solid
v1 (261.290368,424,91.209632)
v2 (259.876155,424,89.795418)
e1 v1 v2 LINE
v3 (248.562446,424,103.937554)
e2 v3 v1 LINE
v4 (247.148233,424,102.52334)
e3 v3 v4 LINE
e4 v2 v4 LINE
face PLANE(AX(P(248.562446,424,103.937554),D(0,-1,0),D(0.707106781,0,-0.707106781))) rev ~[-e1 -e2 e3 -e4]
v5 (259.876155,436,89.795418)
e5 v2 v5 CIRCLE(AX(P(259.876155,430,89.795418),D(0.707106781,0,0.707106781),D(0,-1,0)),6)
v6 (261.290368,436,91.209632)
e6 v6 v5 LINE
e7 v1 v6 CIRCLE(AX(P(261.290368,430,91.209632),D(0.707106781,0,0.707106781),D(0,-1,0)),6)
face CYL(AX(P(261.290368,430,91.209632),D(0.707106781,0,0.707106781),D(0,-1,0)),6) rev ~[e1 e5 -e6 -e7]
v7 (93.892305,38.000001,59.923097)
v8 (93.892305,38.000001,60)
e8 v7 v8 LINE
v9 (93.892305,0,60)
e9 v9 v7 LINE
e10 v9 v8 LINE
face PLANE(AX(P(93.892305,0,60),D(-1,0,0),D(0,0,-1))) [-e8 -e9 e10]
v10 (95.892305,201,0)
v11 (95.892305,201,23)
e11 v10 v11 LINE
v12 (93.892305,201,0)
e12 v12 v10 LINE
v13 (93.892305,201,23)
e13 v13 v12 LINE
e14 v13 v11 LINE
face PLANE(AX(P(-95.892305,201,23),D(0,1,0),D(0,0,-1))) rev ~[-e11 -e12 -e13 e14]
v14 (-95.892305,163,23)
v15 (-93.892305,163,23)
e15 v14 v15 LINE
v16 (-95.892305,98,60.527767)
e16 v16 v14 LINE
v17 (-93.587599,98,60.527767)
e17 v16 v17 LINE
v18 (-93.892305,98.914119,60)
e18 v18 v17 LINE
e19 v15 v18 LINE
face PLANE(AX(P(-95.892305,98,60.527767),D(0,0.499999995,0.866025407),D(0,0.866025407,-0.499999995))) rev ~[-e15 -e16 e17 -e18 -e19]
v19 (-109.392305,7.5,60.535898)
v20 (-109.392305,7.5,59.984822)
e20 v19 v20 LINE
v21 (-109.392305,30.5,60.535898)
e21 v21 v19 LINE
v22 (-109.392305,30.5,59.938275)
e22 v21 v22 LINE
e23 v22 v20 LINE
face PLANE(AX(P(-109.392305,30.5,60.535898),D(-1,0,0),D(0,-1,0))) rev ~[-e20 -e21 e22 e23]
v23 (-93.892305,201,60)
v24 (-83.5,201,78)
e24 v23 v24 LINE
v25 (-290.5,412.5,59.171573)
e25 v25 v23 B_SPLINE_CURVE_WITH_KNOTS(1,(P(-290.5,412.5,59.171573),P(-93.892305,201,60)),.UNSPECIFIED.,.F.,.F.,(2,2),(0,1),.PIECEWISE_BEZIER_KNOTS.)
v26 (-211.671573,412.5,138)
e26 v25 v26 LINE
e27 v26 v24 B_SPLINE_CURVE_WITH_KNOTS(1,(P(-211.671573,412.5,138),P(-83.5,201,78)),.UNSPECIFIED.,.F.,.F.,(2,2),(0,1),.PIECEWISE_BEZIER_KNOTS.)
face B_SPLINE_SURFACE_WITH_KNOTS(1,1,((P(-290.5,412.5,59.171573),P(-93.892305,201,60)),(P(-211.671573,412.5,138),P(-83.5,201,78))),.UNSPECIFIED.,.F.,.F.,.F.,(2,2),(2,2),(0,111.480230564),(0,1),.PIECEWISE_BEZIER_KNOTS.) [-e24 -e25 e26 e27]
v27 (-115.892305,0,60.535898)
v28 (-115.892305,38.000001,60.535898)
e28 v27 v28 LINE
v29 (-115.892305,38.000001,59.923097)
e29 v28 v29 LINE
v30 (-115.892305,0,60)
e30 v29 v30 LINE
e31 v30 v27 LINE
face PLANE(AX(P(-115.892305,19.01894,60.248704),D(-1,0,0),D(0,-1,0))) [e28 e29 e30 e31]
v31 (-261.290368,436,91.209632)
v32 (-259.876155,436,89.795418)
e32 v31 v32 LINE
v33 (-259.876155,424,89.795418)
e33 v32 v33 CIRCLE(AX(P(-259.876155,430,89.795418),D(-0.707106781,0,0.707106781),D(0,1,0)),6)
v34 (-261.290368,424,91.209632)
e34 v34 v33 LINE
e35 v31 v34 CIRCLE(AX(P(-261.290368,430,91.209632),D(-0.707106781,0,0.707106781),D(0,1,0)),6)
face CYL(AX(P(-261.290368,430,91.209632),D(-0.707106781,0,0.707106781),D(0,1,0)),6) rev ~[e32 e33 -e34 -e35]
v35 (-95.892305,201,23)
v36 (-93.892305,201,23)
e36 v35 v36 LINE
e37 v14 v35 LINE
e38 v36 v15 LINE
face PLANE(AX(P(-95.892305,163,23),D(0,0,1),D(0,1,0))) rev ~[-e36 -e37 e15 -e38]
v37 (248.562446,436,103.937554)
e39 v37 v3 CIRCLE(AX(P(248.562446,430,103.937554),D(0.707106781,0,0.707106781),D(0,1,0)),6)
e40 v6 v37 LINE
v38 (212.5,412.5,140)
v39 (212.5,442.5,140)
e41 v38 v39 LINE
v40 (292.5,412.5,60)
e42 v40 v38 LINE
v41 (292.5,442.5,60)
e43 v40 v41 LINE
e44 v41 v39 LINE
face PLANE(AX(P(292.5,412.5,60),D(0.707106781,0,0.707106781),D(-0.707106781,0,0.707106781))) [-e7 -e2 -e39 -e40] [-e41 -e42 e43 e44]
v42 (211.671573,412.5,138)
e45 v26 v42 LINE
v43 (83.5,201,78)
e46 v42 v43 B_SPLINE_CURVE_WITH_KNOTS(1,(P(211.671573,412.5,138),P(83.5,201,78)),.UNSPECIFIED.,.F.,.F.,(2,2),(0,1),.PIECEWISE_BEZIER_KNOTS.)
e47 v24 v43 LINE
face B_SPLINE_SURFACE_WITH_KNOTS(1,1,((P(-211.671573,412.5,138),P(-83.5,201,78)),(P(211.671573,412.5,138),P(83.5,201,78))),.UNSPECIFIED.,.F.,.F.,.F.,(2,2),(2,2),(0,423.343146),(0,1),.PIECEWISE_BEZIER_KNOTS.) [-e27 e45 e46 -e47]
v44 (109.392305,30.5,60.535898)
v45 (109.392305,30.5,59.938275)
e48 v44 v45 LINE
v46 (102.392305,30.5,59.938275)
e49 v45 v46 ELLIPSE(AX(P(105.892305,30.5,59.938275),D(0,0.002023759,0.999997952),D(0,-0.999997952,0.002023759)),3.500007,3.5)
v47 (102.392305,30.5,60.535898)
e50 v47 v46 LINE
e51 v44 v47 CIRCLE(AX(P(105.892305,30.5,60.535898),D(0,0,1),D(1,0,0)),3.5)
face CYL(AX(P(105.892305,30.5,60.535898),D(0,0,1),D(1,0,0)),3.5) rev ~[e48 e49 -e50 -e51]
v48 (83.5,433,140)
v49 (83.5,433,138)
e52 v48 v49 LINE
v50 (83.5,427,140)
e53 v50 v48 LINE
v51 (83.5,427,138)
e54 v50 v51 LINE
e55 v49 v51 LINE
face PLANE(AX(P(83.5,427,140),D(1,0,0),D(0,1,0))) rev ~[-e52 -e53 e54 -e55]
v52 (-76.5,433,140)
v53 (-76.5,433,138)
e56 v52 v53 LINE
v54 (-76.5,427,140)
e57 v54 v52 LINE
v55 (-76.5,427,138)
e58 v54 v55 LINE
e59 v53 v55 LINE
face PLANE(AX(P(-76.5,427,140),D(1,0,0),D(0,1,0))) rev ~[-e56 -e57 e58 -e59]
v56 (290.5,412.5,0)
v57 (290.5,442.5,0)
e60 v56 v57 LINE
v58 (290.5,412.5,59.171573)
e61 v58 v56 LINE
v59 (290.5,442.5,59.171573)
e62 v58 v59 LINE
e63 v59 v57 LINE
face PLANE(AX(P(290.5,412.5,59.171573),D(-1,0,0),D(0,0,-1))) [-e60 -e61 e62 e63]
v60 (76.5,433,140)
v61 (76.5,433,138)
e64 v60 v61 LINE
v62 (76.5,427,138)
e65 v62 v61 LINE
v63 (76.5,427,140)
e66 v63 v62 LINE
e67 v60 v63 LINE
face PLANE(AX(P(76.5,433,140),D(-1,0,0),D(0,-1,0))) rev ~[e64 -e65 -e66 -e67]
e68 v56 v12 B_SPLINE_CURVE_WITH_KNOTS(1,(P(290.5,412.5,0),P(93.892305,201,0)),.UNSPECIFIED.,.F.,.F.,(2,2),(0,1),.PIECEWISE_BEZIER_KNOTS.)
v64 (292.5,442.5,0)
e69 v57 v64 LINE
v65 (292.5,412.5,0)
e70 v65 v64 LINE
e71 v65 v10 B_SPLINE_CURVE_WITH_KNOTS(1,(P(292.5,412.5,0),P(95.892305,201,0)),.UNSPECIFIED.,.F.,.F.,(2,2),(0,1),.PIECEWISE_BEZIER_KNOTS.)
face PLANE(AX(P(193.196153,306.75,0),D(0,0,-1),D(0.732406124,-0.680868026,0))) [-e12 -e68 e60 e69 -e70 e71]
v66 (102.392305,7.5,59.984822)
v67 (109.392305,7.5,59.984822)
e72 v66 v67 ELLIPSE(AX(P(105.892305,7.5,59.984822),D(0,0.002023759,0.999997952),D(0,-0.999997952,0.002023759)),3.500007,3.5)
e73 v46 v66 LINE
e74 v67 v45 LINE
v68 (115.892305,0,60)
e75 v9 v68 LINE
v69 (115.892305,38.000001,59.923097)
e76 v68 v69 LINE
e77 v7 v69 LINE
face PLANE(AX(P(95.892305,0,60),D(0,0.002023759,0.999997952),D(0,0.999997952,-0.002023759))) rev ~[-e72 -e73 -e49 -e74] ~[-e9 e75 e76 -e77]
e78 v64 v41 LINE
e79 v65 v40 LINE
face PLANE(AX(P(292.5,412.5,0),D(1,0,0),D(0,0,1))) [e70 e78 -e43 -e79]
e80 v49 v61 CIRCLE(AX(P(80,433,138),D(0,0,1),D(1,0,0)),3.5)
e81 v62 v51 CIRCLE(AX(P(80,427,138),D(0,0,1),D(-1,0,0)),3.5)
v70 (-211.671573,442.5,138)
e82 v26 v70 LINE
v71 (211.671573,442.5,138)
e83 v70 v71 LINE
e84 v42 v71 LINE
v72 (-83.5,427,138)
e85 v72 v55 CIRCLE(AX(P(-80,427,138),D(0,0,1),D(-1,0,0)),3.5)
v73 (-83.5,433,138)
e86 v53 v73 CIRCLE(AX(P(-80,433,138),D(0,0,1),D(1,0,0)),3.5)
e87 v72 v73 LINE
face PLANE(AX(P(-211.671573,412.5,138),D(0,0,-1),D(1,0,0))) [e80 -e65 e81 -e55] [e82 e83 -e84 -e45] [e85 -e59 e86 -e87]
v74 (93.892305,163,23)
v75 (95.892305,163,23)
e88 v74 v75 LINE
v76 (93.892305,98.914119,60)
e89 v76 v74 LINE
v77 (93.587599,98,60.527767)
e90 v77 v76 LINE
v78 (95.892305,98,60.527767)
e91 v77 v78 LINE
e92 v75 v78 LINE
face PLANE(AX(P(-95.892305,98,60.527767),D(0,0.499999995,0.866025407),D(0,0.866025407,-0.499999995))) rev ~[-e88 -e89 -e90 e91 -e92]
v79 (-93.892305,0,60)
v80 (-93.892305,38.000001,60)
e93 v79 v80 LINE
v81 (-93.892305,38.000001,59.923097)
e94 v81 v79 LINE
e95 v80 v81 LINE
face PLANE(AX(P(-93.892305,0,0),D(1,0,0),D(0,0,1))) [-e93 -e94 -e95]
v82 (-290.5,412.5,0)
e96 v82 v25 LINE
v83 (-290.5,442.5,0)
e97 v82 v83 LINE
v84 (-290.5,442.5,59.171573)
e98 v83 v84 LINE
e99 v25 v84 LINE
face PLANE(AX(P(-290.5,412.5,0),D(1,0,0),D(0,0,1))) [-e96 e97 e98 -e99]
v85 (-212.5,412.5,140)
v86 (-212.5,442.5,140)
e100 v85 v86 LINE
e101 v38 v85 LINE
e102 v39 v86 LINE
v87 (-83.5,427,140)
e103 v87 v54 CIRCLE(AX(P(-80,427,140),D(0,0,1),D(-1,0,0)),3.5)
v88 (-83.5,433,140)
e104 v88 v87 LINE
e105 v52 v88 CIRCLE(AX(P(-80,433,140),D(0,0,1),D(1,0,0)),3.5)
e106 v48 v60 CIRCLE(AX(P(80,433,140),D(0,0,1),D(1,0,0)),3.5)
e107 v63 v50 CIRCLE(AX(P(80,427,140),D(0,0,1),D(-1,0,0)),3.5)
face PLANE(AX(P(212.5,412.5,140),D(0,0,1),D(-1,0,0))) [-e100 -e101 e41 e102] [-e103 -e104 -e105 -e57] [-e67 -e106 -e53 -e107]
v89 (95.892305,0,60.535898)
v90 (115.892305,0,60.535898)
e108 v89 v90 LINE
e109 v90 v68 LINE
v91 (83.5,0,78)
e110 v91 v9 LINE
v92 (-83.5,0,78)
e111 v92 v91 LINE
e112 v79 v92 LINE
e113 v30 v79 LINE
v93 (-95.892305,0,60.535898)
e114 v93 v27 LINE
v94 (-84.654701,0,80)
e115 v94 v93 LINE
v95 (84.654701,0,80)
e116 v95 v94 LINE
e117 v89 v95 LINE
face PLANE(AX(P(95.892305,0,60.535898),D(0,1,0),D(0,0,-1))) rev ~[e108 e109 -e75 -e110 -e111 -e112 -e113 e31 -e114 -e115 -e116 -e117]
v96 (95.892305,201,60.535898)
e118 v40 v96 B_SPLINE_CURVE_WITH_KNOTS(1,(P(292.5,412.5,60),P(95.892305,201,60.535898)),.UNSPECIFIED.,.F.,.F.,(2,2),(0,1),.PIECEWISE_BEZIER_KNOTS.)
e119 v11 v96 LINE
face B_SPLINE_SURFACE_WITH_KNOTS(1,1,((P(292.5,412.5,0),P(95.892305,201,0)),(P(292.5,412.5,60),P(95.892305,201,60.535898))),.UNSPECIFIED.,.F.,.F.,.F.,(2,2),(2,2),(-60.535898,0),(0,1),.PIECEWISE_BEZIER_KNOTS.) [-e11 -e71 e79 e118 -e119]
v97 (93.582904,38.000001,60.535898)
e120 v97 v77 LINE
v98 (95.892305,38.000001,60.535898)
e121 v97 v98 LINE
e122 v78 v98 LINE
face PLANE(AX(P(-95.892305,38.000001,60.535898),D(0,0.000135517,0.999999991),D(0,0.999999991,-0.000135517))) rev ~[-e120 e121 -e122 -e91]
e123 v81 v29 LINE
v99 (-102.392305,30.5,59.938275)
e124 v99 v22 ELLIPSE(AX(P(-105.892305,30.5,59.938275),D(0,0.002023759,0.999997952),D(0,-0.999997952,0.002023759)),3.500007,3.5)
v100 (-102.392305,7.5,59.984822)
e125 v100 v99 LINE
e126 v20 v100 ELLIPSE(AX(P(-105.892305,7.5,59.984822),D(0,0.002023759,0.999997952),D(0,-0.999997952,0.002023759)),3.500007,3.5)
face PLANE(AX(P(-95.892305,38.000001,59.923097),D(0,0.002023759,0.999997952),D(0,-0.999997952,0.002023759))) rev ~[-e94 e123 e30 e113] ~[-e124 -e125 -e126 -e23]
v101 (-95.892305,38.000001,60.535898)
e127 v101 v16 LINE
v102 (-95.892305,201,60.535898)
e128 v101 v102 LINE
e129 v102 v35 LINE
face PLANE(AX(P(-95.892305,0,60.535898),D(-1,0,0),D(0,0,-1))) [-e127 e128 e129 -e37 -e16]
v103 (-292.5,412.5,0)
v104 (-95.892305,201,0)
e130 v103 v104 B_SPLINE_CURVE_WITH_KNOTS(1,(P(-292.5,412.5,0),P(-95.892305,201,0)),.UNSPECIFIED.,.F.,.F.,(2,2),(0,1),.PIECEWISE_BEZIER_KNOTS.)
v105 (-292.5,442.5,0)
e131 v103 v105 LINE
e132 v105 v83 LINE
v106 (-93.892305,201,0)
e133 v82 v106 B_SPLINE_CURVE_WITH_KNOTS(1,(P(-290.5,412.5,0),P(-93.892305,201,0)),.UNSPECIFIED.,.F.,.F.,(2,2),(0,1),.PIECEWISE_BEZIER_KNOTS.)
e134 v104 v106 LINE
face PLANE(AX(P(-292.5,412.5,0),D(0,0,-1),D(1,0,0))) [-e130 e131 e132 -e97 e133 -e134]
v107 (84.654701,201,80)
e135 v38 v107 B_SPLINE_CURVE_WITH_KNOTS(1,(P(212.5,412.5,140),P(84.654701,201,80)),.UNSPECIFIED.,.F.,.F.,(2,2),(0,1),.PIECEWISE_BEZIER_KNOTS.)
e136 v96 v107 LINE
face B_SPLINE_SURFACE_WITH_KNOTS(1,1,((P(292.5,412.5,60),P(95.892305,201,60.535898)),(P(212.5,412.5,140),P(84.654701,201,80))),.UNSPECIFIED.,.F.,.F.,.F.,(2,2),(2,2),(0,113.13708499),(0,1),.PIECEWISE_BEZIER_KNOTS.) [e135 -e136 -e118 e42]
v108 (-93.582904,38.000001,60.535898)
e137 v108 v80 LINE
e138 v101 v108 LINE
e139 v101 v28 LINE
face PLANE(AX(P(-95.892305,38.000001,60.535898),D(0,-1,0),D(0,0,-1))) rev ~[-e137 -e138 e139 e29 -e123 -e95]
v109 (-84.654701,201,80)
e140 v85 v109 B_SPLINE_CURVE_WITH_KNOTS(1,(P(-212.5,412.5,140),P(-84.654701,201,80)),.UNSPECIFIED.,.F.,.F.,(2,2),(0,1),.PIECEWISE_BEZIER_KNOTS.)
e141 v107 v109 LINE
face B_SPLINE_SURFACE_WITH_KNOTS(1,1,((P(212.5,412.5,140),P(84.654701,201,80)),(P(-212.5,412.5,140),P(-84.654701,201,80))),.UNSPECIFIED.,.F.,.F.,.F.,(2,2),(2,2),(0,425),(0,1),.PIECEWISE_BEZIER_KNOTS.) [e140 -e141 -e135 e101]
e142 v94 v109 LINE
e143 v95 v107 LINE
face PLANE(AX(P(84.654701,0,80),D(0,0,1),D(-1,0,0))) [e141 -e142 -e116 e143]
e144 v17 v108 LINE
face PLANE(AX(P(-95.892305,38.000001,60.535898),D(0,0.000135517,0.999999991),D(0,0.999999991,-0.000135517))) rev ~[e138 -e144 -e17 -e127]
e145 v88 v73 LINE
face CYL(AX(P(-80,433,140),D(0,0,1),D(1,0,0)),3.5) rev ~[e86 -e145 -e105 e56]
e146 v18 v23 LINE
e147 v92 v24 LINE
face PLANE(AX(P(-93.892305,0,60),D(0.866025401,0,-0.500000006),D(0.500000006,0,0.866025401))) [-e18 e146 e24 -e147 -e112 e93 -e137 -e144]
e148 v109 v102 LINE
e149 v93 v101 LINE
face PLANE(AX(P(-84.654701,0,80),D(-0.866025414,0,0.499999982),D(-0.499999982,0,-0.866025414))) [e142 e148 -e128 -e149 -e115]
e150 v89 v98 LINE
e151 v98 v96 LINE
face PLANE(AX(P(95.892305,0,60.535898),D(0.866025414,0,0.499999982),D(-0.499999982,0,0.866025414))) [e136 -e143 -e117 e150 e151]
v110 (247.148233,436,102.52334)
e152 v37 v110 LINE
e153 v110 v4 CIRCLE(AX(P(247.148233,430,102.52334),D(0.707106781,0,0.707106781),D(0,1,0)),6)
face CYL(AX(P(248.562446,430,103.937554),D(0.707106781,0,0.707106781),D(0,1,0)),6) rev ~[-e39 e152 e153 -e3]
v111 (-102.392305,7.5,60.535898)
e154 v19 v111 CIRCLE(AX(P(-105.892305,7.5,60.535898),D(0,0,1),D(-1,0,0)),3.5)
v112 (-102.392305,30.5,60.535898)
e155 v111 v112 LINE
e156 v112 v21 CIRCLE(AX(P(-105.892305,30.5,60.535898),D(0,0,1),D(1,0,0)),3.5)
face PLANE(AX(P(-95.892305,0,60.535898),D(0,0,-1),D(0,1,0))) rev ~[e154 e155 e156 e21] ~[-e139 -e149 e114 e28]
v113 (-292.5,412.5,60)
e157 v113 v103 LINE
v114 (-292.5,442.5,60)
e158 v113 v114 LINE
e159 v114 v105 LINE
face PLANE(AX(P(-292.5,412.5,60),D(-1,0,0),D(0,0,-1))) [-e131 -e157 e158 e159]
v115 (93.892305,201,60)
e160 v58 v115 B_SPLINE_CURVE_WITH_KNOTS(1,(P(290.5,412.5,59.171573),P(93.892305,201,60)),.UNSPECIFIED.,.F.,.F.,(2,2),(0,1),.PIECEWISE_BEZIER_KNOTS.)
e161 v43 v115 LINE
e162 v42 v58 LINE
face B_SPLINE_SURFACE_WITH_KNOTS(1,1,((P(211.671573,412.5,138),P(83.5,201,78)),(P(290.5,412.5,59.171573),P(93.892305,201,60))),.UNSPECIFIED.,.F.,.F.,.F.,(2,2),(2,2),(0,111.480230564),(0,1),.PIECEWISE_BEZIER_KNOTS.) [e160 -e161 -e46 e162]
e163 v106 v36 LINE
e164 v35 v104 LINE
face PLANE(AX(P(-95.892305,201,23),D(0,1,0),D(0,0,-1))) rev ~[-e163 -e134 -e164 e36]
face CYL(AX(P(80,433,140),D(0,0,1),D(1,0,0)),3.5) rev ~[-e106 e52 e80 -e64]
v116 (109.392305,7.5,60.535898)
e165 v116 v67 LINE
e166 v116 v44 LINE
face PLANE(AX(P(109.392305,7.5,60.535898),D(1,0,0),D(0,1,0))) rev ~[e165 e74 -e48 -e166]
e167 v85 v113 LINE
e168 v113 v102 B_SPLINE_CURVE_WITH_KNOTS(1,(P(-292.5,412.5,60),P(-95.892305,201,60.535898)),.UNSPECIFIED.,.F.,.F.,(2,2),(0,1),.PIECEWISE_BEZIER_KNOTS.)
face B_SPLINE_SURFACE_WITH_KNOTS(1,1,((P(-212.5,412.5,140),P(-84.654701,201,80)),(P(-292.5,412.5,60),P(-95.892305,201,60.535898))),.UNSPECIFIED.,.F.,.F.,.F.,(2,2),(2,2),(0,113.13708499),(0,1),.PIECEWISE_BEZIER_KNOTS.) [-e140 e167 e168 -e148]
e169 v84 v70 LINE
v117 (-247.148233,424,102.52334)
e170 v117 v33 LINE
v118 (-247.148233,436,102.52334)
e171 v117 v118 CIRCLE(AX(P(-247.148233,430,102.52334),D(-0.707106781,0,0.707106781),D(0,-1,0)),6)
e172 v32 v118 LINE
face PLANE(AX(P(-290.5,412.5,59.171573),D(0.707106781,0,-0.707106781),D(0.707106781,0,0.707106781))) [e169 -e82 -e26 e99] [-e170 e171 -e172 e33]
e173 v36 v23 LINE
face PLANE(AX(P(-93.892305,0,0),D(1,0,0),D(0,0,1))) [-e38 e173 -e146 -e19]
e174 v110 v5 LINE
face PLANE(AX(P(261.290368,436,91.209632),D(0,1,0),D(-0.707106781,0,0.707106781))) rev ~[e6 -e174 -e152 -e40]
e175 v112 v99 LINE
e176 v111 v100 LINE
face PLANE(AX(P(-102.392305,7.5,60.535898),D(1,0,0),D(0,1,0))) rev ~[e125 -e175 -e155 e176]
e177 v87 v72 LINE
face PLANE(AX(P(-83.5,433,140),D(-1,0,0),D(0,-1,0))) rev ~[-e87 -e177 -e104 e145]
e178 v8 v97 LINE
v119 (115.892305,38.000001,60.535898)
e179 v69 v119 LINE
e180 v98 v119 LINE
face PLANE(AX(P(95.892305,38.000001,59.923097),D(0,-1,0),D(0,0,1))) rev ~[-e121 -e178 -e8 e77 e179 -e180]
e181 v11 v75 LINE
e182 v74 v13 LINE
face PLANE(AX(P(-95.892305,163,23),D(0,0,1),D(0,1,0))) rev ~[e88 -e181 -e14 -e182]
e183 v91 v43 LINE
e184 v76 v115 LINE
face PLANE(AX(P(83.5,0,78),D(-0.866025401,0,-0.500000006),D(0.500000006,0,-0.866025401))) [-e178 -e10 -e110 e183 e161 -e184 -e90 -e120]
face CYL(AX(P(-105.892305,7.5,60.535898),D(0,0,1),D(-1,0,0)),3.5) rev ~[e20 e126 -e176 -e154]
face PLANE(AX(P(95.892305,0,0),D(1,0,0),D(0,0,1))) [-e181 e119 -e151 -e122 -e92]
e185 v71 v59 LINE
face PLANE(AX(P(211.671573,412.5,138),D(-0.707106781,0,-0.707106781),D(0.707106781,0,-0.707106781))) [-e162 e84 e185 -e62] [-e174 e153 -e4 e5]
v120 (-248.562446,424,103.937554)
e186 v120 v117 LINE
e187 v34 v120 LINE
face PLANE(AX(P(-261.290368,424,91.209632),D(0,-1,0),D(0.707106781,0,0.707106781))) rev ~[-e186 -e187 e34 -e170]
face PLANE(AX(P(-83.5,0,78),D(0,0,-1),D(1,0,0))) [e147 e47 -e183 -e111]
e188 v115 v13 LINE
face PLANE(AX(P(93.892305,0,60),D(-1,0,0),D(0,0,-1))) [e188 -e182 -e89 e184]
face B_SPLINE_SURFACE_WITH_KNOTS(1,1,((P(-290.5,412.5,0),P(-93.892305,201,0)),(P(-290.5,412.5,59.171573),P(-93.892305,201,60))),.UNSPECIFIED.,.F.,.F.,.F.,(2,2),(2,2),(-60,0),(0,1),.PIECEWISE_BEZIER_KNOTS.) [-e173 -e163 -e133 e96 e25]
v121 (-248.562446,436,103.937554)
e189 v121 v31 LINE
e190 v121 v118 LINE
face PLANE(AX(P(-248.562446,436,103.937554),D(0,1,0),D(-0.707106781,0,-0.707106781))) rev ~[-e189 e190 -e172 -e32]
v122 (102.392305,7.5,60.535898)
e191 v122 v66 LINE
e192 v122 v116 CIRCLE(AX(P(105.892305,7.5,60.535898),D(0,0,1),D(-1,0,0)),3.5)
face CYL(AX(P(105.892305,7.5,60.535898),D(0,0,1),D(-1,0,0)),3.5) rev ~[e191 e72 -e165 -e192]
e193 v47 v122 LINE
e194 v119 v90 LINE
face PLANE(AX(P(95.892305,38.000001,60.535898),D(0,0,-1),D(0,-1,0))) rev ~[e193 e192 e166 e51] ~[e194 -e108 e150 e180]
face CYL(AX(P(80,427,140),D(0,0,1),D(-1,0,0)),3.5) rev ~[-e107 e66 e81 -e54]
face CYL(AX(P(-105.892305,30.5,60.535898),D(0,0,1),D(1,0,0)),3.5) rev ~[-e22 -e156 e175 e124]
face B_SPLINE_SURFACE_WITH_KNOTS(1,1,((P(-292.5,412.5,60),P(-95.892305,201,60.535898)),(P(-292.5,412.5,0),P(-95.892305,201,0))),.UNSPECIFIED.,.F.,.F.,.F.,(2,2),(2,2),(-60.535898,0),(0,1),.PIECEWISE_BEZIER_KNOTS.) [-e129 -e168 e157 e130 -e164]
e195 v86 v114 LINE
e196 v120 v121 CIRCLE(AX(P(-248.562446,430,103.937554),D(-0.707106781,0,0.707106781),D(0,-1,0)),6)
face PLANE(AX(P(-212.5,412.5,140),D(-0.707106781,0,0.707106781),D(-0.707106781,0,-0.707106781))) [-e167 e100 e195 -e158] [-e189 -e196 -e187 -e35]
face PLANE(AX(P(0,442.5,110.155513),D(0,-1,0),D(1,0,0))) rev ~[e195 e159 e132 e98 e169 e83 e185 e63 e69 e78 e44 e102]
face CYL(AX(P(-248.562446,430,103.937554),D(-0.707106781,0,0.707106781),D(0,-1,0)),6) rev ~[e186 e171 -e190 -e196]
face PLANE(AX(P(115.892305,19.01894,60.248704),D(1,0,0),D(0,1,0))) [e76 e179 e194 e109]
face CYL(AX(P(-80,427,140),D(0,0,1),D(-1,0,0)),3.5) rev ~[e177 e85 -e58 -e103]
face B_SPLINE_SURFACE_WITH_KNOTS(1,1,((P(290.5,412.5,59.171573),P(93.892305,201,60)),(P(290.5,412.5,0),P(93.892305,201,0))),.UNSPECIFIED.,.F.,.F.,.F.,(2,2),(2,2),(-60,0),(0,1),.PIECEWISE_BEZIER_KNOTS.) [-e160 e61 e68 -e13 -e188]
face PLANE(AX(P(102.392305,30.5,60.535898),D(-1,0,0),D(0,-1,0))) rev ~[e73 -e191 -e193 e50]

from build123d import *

# Parameters (mm, degrees)
F1_DEPTH  = 201
F4_DEPTH  = 30
F7_DEPTH  = 388.393305
F9_DEPTH  = 20
F11_DEPTH = 20
F13_DEPTH = 60.536898
F15_DEPTH = 60.536898
F17_DEPTH = 140.001
F19_DEPTH = 456.084874
F21_DEPTH = 456.084874


with BuildPart() as f1:
    # F0 (on Front) → F1 (new body)
    with BuildSketch(Plane.XZ):
        Polygon((-83.5, 78), (0, 78), (83.5, 78), (93.892305, 60), (93.892305, 0), (95.892305, 0), (95.892305, 60.535898), (84.654701, 80), (0, 80), (-84.654701, 80), (-95.892305, 60.535898), (-95.892305, 0), (-93.892305, 0), (-93.892305, 60), align=None)
    extrude(amount=-F1_DEPTH)



with BuildPart() as f4:
    # F3 (on offset) → F4 (new body)
    with BuildSketch(Plane.XZ.offset(-412.5)):
        Polygon((212.5, 140), (0, 140), (-212.5, 140), (-292.5, 60), (-292.5, 0), (-290.5, 0), (-290.5, 59.171573), (-211.671573, 138), (0, 138), (211.671573, 138), (290.5, 59.171573), (290.5, 0), (292.5, 0), (292.5, 60), align=None)
    extrude(amount=-F4_DEPTH)


with BuildPart() as f1_1:
    add(f1.part)

    add(f4.part)  # F5 merges F4
    # F4_face (on face) → F5 section 0
    with BuildSketch(Plane(origin=(0, 412.5, 110.440506), x_dir=(1, 0, 0), z_dir=(0, -1, 0))):
        Polygon((211.671573, 27.559494), (290.5, -51.268933), (290.5, -110.440506), (292.5, -110.440506), (292.5, -50.440506), (212.5, 29.559494), (-212.5, 29.559494), (-292.5, -50.440506), (-292.5, -110.440506), (-290.5, -110.440506), (-290.5, -51.268933), (-211.671573, 27.559494), align=None)
    # F1_face (on face) → F5 section 1
    with BuildSketch(Plane(origin=(0, 201, 60.03778), x_dir=(1, 0, 0), z_dir=(0, 1, 0))):
        Polygon((-95.892305, 60.03778), (-95.892305, -0.498118), (-84.654701, -19.96222), (84.654701, -19.96222), (95.892305, -0.498118), (95.892305, 60.03778), (93.892305, 60.03778), (93.892305, 0.03778), (83.5, -17.96222), (-83.5, -17.96222), (-93.892305, 0.03778), (-93.892305, 60.03778), align=None)
    loft()

    # F6 (on face) → F7 (cut, through all)
    with BuildSketch(Plane(origin=(-95.892305, 0, 0), x_dir=(0, -1, 0), z_dir=(-1, 0, 0))):
        Polygon((-163, 23), (-201, 23), (-201, 0), (0, 0), (0, 60), (-38.000001, 59.923097), (-38.000001, 60.535898), (-98, 60.527767), align=None)
    extrude(amount=-F7_DEPTH, mode=Mode.SUBTRACT)

    # F8 (on face) → F9 (join)
    with BuildSketch(Plane(origin=(-95.892305, 0, 0), x_dir=(0, -1, 0), z_dir=(-1, 0, 0))):
        Polygon((0, 60.535898), (-38.000001, 60.535898), (-38.000001, 59.923097), (0, 60), align=None)
    extrude(amount=F9_DEPTH)

    # F10 (on face) → F11 (join)
    with BuildSketch(Plane.YZ.offset(95.892305)):
        Polygon((0, 60.535898), (0, 60), (38.000001, 59.923097), (38.000001, 60.535898), align=None)
    extrude(amount=F11_DEPTH)

    # F12 (on face) → F13 (cut, through all)
    with BuildSketch(Plane.XY.offset(60.535898)):
        with BuildLine():
            ThreePointArc((-102.392305, 30.5), (-105.892305, 34), (-109.392305, 30.5))
            Line((-109.392305, 30.5), (-109.392305, 7.5))
            ThreePointArc((-109.392305, 7.5), (-105.892305, 4), (-102.392305, 7.5))
            Line((-102.392305, 7.5), (-102.392305, 30.5))
        make_face()
    extrude(amount=-F13_DEPTH, mode=Mode.SUBTRACT)

    # F14 (on face) → F15 (cut, through all)
    with BuildSketch(Plane.XY.offset(60.535898)):
        with BuildLine():
            ThreePointArc((109.392305, 30.5), (105.892305, 34), (102.392305, 30.5))
            Line((102.392305, 30.5), (102.392305, 7.5))
            ThreePointArc((102.392305, 7.5), (105.892305, 4), (109.392305, 7.5))
            Line((109.392305, 7.5), (109.392305, 30.5))
        make_face()
    extrude(amount=-F15_DEPTH, mode=Mode.SUBTRACT)

    # F16 (on face) → F17 (cut, through all)
    with BuildSketch(Plane.XY.offset(140)):
        with BuildLine():
            Line((-76.5, 427), (-76.5, 433))
            ThreePointArc((-76.5, 433), (-80, 436.5), (-83.5, 433))
            Line((-83.5, 433), (-83.5, 427))
            ThreePointArc((-83.5, 427), (-80, 423.5), (-76.5, 427))
        make_face()
        with BuildLine():
            Line((83.5, 427), (83.5, 433))
            ThreePointArc((83.5, 433), (80, 436.5), (76.5, 433))
            Line((76.5, 433), (76.5, 427))
            ThreePointArc((76.5, 427), (80, 423.5), (83.5, 427))
        make_face()
    extrude(amount=-F17_DEPTH, mode=Mode.SUBTRACT)

    # F18 (on face) → F19 (cut, through all)
    with BuildSketch(Plane(origin=(-176.25, 0, 176.25), x_dir=(0.707107, 0, 0.707107), z_dir=(-0.707107, 0, 0.707107))):
        with BuildLine():
            Line((-102.265242, 436), (-120.265242, 436))
            ThreePointArc((-120.265242, 436), (-126.265242, 430), (-120.265242, 424))
            Line((-120.265242, 424), (-102.265242, 424))
            ThreePointArc((-102.265242, 424), (-96.265242, 430), (-102.265242, 436))
        make_face()
    extrude(amount=-F19_DEPTH, mode=Mode.SUBTRACT)

    # F20 (on face) → F21 (cut, through all)
    with BuildSketch(Plane(origin=(176.25, 0, 176.25), x_dir=(0.707107, 0, -0.707107), z_dir=(0.707107, 0, 0.707107))):
        with BuildLine():
            ThreePointArc((120.265242, 424), (126.265242, 430), (120.265242, 436))
            Line((120.265242, 436), (102.265242, 436))
            ThreePointArc((102.265242, 436), (96.265242, 430), (102.265242, 424))
            Line((102.265242, 424), (120.265242, 424))
        make_face()
    extrude(amount=-F21_DEPTH, mode=Mode.SUBTRACT)


solid = f1_1.part
